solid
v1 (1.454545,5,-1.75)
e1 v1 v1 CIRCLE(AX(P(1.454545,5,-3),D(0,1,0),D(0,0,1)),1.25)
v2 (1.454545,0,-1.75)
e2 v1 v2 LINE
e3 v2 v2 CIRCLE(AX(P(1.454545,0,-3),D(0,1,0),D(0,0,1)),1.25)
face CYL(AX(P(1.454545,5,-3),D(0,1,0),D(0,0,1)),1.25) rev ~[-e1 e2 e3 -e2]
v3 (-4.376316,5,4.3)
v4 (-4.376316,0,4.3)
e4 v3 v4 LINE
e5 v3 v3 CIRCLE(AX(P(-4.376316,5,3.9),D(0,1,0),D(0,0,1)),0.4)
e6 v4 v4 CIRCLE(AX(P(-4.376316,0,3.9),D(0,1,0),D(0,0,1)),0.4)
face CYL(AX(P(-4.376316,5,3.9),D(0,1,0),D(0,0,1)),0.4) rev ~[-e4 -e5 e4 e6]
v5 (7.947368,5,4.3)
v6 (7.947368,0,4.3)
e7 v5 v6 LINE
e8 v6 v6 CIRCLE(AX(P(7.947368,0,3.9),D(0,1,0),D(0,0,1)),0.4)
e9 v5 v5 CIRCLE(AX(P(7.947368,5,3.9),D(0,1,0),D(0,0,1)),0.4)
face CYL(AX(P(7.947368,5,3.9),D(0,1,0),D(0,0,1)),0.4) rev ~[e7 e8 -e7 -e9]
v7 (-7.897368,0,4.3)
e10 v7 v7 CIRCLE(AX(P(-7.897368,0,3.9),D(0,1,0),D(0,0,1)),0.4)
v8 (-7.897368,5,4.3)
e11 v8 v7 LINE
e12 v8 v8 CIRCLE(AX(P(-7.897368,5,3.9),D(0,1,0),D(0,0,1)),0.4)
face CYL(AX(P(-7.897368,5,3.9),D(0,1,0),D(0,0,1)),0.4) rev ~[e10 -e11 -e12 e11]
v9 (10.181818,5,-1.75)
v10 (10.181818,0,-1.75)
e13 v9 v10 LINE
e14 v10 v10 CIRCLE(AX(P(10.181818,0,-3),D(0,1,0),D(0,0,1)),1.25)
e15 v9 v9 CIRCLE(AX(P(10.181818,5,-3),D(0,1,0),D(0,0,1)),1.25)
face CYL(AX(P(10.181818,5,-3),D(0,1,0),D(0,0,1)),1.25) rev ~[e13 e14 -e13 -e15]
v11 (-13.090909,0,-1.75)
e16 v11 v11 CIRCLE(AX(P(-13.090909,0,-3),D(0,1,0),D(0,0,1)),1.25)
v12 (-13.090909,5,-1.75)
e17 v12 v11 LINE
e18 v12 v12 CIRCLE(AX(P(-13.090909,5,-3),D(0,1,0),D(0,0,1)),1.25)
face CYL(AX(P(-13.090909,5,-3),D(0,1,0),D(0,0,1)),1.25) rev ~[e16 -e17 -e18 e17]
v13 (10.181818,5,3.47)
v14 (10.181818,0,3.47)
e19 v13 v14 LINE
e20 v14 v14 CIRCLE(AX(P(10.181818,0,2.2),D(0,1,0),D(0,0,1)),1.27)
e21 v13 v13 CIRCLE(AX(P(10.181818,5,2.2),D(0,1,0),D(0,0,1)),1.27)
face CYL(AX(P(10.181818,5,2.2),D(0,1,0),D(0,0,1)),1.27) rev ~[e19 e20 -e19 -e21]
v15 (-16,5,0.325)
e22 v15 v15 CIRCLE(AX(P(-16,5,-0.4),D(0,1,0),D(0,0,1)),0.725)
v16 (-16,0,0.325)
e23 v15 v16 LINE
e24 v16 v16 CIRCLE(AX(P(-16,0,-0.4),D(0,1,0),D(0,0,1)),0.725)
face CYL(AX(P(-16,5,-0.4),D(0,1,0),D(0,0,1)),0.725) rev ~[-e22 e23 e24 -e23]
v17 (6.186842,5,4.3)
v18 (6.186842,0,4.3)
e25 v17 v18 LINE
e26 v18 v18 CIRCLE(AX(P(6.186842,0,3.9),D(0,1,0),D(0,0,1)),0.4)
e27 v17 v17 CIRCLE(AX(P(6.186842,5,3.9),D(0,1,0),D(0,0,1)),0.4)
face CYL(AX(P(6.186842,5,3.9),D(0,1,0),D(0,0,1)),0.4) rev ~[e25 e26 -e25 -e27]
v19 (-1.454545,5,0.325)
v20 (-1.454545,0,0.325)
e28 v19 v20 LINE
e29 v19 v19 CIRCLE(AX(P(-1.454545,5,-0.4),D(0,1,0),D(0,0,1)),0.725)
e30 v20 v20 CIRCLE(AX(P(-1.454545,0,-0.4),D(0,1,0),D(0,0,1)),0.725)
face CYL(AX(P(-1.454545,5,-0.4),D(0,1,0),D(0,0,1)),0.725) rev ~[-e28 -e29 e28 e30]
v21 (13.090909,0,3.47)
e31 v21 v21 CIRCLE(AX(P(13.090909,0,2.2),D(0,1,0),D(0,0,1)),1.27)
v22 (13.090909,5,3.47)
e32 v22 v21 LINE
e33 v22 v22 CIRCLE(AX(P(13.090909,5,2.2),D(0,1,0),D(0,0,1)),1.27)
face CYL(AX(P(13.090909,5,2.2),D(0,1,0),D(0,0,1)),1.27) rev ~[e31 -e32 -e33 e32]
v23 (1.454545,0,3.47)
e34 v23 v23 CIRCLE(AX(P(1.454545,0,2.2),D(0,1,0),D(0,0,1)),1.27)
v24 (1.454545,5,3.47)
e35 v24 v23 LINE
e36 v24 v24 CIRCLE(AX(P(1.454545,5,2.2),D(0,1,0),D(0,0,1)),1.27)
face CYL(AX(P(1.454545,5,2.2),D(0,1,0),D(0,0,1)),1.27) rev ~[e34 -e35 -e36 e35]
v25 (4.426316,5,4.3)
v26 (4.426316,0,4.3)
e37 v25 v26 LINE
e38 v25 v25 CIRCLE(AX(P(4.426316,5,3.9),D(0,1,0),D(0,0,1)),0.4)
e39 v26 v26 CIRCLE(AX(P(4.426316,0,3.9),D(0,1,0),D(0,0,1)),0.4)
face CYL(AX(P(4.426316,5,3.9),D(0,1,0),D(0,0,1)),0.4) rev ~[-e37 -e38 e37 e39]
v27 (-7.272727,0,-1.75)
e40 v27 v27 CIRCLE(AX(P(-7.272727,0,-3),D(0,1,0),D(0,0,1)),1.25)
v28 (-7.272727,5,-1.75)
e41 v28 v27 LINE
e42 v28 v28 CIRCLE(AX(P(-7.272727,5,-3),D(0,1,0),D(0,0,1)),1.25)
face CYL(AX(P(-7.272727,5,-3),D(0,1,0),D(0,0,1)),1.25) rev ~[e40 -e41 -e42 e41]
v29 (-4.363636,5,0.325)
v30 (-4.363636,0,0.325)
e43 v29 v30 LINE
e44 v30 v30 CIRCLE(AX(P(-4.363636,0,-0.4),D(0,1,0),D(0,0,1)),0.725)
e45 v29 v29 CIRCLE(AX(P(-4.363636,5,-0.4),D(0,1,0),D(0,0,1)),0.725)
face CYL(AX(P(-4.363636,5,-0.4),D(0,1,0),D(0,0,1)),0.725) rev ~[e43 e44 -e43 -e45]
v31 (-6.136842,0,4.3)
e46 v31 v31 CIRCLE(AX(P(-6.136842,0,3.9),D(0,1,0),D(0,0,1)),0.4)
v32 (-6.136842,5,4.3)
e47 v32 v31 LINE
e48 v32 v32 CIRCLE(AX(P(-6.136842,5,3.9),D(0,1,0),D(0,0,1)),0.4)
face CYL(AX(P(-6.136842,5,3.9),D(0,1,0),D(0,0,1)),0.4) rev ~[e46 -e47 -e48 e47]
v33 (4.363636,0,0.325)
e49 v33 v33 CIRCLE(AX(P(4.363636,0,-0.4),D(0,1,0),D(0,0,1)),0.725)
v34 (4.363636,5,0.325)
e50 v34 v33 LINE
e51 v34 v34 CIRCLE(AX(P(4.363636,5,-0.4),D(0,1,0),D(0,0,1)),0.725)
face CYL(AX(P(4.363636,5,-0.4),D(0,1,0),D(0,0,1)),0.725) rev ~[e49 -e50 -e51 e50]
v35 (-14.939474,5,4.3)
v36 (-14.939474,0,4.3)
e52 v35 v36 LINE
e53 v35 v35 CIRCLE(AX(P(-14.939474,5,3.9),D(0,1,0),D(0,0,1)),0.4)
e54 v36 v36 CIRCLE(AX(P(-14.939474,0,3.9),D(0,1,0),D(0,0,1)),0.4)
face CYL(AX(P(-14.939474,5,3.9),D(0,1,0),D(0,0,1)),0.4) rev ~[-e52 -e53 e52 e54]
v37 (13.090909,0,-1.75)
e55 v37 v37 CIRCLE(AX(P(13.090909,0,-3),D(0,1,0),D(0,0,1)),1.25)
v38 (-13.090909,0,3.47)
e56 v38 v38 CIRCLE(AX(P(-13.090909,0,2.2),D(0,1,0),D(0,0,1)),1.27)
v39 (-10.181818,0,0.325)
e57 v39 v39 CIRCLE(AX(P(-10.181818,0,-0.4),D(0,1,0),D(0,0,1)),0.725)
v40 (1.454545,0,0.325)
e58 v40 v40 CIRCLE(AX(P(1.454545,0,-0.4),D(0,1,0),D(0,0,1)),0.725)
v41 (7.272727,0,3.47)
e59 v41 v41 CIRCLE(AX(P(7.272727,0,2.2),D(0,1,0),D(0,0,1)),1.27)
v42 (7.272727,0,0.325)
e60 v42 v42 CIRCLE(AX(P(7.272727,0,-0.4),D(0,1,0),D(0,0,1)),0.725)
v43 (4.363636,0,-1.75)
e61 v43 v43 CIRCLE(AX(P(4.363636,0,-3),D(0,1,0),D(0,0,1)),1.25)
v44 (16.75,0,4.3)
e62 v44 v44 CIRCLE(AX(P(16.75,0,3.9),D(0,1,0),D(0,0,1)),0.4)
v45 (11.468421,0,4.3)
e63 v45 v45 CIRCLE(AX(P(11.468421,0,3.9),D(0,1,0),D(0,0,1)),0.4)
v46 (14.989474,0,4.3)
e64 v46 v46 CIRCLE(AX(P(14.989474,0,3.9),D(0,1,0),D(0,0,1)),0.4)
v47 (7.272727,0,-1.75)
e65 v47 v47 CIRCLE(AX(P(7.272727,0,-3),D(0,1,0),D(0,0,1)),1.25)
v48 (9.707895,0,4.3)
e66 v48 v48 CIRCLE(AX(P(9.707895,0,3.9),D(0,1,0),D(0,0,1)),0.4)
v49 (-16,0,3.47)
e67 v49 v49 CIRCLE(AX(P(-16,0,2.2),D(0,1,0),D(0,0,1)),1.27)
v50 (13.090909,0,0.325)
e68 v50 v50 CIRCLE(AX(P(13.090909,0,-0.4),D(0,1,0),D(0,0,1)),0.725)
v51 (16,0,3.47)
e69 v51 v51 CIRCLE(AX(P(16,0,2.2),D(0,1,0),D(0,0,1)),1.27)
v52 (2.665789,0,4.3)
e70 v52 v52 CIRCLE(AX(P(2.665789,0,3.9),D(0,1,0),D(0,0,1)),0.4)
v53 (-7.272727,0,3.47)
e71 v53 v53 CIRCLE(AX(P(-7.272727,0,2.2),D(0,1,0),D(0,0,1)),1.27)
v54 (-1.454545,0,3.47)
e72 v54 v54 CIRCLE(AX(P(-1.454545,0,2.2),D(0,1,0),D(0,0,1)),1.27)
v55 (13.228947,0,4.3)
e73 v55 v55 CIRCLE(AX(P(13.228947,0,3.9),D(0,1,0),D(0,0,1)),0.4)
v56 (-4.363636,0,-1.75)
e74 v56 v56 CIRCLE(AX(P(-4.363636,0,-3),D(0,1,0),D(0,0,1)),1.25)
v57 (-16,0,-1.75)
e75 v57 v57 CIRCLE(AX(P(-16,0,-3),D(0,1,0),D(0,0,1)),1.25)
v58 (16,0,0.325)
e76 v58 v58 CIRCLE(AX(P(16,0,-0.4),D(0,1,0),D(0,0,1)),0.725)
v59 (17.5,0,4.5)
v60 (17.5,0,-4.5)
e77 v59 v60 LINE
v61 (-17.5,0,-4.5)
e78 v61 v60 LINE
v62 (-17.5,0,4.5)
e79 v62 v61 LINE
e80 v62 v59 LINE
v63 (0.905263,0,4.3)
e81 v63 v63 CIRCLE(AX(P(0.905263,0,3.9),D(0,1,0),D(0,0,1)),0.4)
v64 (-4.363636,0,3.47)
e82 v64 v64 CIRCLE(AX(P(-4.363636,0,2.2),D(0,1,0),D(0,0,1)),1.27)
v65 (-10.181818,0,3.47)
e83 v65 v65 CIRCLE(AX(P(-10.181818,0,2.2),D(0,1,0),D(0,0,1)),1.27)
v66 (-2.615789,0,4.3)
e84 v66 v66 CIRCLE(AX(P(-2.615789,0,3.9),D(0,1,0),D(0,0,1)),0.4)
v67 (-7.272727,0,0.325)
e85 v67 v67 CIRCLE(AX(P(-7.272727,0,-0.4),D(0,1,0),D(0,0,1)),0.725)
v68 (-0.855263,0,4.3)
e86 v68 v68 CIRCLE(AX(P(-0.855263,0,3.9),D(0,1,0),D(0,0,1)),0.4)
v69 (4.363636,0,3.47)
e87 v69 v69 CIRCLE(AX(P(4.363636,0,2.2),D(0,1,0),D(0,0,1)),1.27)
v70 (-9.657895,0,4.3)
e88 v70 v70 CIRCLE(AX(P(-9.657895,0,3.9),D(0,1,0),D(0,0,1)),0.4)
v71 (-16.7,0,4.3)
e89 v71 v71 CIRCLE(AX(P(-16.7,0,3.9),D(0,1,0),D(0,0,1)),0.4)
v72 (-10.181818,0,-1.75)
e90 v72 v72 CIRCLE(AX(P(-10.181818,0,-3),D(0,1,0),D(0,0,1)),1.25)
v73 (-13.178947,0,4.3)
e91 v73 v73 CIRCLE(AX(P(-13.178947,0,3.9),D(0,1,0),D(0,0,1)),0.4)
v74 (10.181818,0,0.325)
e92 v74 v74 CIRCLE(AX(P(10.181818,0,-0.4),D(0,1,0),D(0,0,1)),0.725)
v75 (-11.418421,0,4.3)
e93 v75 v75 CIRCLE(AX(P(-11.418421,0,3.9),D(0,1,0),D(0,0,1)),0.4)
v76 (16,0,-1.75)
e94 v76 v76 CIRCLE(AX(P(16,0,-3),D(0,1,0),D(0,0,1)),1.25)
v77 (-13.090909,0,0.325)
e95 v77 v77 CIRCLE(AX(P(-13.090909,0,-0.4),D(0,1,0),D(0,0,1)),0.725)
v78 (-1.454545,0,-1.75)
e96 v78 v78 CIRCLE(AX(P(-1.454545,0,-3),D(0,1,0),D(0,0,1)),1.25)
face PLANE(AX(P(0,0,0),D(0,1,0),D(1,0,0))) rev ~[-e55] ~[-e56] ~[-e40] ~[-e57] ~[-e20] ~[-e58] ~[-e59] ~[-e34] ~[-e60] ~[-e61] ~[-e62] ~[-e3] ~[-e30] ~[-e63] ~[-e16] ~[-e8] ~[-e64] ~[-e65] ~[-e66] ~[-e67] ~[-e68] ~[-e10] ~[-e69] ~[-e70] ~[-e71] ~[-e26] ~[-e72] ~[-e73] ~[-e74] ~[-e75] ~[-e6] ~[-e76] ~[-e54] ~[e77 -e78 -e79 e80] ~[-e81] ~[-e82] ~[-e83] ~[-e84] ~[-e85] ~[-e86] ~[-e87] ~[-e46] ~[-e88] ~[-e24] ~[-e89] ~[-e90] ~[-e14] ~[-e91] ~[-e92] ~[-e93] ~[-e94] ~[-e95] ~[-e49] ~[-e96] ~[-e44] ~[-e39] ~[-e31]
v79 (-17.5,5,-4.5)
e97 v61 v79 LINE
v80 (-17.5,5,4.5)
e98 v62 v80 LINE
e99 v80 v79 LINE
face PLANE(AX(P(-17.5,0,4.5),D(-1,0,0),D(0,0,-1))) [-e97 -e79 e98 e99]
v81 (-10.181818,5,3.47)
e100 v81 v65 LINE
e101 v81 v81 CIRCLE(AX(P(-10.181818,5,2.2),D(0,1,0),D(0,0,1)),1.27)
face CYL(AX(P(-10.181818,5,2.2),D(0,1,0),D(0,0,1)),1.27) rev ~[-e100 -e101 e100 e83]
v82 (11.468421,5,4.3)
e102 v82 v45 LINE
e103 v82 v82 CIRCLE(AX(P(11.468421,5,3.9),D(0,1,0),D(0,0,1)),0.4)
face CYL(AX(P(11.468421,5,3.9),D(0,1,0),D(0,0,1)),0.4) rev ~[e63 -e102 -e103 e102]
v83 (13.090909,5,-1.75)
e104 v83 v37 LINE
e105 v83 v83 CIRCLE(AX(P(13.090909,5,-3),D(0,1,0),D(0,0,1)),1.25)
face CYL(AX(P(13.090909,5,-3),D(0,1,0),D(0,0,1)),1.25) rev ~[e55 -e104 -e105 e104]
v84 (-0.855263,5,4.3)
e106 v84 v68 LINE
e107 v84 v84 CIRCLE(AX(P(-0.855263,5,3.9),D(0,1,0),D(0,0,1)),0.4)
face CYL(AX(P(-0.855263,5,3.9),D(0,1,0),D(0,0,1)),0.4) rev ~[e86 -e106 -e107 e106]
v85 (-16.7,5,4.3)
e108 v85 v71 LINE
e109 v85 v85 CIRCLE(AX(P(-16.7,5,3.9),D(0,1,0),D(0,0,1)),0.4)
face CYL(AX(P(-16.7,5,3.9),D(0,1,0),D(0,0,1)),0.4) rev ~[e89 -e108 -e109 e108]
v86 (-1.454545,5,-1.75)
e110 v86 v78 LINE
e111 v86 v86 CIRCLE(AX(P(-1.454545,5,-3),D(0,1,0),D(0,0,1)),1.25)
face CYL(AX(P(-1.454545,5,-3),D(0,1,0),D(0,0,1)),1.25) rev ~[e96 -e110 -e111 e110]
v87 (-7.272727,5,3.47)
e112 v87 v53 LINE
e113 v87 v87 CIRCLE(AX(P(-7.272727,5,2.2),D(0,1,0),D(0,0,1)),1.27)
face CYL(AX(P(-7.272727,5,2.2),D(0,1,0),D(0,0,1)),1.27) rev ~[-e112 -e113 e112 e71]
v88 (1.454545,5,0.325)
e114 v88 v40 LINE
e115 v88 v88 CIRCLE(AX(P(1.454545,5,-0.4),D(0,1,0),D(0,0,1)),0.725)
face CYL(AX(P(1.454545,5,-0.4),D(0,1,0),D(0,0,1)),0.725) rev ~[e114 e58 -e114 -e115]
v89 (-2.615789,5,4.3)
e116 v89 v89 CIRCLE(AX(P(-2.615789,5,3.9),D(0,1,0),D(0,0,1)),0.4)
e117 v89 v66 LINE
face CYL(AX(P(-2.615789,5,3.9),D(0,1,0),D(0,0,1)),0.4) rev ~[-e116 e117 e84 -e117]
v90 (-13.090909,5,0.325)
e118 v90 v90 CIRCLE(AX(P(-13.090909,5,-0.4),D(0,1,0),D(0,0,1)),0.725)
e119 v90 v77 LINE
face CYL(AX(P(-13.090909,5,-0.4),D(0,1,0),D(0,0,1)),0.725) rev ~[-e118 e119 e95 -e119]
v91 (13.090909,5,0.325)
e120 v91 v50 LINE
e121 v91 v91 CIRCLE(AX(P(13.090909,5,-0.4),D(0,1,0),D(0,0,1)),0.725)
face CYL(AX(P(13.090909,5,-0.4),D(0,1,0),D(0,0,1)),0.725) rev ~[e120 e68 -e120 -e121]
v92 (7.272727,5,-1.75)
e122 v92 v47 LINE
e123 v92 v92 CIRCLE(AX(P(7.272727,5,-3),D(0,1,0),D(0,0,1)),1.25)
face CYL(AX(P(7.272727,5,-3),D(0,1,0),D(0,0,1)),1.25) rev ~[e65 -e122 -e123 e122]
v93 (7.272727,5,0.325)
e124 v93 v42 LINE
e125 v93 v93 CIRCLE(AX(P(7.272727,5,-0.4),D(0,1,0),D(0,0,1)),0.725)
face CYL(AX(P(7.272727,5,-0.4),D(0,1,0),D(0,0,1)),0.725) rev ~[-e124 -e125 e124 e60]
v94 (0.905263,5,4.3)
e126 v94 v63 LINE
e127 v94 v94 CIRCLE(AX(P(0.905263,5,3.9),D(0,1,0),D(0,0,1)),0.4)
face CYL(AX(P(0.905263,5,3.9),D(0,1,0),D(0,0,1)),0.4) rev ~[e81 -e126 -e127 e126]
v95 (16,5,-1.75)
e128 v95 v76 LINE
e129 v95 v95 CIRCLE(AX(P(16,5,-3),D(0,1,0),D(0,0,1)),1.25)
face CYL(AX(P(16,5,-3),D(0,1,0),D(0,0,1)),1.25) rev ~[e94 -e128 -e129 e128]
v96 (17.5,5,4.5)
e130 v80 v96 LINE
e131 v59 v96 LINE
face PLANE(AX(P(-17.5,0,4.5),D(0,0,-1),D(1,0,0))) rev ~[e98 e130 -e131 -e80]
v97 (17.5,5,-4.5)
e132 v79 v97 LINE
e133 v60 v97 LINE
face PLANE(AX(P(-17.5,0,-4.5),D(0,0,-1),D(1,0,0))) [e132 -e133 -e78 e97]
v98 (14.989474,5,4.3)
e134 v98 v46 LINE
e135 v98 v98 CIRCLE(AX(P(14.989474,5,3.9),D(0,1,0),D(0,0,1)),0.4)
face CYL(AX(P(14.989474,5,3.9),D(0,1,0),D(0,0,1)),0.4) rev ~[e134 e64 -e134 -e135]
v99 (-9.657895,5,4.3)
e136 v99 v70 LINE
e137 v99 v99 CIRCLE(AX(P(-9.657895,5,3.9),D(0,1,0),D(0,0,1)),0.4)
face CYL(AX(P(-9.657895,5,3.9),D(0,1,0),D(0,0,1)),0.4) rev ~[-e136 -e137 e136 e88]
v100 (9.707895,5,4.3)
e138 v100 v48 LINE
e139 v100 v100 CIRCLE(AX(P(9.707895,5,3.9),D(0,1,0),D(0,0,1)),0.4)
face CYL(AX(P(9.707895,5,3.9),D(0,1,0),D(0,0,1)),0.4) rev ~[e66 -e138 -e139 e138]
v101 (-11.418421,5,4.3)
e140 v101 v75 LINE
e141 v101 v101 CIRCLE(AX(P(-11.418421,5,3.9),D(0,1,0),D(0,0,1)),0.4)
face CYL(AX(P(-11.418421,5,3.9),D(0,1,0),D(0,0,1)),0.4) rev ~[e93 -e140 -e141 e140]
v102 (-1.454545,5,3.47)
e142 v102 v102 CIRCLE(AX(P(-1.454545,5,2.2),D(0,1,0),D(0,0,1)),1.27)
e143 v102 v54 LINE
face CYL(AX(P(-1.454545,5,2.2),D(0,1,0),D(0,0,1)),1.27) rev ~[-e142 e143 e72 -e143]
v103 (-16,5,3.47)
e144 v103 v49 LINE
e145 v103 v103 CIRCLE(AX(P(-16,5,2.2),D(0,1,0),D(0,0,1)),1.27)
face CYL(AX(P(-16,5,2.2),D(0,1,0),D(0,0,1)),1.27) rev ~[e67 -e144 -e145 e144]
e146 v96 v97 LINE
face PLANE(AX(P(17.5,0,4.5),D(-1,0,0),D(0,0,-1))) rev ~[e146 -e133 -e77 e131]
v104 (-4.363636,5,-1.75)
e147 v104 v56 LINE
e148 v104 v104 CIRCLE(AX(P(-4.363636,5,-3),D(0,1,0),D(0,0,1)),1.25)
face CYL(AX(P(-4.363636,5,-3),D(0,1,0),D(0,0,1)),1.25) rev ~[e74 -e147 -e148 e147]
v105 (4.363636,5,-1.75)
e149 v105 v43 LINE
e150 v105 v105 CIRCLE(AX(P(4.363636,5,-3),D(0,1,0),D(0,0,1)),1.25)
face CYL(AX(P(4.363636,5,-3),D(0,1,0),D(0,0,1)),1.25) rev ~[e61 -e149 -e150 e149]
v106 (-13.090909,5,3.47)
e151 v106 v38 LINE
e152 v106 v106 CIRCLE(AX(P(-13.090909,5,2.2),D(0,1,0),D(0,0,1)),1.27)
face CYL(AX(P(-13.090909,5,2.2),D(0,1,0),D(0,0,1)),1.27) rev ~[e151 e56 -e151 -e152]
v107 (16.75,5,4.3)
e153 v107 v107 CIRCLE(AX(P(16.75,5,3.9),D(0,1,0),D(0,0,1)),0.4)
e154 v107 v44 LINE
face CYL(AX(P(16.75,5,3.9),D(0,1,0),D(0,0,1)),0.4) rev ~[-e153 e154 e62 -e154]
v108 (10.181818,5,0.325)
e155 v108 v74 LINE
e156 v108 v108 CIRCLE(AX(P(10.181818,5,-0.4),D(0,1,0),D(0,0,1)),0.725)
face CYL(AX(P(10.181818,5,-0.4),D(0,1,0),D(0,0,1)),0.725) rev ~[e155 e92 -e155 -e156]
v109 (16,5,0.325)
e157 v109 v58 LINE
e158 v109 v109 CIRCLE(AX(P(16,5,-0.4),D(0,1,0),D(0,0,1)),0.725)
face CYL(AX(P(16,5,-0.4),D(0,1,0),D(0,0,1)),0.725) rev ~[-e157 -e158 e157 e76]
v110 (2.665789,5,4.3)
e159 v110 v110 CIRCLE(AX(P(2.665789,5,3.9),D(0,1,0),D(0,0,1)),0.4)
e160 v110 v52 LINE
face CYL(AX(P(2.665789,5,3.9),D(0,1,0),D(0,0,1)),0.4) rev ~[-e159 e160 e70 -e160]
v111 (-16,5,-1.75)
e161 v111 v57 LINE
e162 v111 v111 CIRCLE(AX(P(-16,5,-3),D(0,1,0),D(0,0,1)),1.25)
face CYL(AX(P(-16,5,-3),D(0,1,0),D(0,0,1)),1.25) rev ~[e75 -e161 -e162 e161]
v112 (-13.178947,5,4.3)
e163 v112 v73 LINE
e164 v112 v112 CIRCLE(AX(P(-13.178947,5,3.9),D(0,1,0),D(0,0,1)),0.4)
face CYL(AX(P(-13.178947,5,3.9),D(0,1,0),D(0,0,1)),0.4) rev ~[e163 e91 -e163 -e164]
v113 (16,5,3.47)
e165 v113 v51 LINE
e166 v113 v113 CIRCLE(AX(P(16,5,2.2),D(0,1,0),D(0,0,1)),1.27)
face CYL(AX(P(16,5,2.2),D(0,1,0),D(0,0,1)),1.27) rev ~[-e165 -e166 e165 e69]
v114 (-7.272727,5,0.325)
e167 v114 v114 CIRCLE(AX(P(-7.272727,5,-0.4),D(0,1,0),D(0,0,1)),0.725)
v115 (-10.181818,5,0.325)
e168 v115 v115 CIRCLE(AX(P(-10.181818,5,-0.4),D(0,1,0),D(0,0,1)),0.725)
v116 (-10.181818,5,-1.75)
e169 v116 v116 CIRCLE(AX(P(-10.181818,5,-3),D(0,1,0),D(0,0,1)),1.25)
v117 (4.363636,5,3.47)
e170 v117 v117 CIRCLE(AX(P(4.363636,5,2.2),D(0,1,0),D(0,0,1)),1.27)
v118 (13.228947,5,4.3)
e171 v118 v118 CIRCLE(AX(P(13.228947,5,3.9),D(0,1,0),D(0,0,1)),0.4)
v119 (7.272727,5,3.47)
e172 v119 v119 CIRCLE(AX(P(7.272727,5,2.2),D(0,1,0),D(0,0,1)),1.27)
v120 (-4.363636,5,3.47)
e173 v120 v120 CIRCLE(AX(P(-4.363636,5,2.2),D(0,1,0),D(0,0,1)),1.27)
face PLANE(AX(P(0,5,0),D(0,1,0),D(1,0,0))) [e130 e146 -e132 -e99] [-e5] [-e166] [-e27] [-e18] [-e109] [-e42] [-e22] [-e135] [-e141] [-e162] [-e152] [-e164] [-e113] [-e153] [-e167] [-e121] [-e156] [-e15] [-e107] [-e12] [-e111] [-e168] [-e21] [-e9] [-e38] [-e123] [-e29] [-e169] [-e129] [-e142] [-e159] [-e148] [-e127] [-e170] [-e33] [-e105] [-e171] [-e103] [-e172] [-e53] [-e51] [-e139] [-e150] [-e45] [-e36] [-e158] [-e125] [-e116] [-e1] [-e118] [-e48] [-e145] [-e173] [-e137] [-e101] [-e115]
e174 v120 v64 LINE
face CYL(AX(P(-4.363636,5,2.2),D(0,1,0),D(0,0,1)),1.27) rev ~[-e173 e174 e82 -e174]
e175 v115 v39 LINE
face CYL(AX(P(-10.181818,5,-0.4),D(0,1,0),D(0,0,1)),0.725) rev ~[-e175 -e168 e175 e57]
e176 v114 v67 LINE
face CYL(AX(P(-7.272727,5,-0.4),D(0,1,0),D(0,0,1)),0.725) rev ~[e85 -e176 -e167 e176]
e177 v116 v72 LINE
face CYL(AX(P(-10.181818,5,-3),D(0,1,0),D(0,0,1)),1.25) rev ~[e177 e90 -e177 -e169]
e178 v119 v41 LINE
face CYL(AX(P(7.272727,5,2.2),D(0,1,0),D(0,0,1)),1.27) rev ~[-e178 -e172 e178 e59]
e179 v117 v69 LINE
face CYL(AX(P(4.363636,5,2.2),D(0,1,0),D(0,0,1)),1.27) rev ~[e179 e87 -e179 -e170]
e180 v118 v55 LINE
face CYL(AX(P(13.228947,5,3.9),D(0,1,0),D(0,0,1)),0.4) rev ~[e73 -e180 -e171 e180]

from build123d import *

# Parameters (mm, degrees)
SKETCH_1_W          = 35
SKETCH_1_H          = 9
EXTRUDE_1_DEPTH     = 5
SKETCH_2_R          = 1.25
SKETCH_2_R_2        = 0.725
SKETCH_2_R_3        = 1.27
SKETCH_2_R_4        = 0.4
CUT_EXTRUDE_1_DEPTH = 5


with BuildPart() as part:
    # 草图1 → 凸台-拉伸1 (new body)
    with BuildSketch(Plane(origin=(0, 0, 0), x_dir=(1, 0, 0), z_dir=(0, 1, 0))):
        Rectangle(SKETCH_1_W, SKETCH_1_H)
    extrude(amount=EXTRUDE_1_DEPTH)

    # 草图2 → 切除-拉伸1 (cut)
    with BuildSketch(Plane(origin=(0, 5, 0), x_dir=(1, 0, 0), z_dir=(0, 1, 0))):
        with Locations(Location((-16, 3, 0), (0, 0, 270))):
            Circle(SKETCH_2_R)
        with Locations(Location((-13.090909091, 3, 0), (0, 0, 270))):
            Circle(SKETCH_2_R)
        with Locations(Location((-10.181818182, 3, 0), (0, 0, 270))):
            Circle(SKETCH_2_R)
        with Locations(Location((-7.272727273, 3, 0), (0, 0, 270))):
            Circle(SKETCH_2_R)
        with Locations(Location((-4.363636364, 3, 0), (0, 0, 270))):
            Circle(SKETCH_2_R)
        with Locations(Location((-1.454545455, 3, 0), (0, 0, 270))):
            Circle(SKETCH_2_R)
        with Locations(Location((1.454545455, 3, 0), (0, 0, 270))):
            Circle(SKETCH_2_R)
        with Locations(Location((4.363636364, 3, 0), (0, 0, 270))):
            Circle(SKETCH_2_R)
        with Locations(Location((7.272727273, 3, 0), (0, 0, 270))):
            Circle(SKETCH_2_R)
        with Locations(Location((10.181818182, 3, 0), (0, 0, 270))):
            Circle(SKETCH_2_R)
        with Locations(Location((13.090909091, 3, 0), (0, 0, 270))):
            Circle(SKETCH_2_R)
        with Locations(Location((16, 3, 0), (0, 0, 270))):
            Circle(SKETCH_2_R)
        with Locations(Location((-16, 0.4, 0), (0, 0, 270))):
            Circle(SKETCH_2_R_2)
        with Locations(Location((-13.090909091, 0.4, 0), (0, 0, 270))):
            Circle(SKETCH_2_R_2)
        with Locations(Location((-10.181818182, 0.4, 0), (0, 0, 270))):
            Circle(SKETCH_2_R_2)
        with Locations(Location((-7.272727273, 0.4, 0), (0, 0, 270))):
            Circle(SKETCH_2_R_2)
        with Locations(Location((-4.363636364, 0.4, 0), (0, 0, 270))):
            Circle(SKETCH_2_R_2)
        with Locations(Location((-1.454545455, 0.4, 0), (0, 0, 270))):
            Circle(SKETCH_2_R_2)
        with Locations(Location((1.454545455, 0.4, 0), (0, 0, 270))):
            Circle(SKETCH_2_R_2)
        with Locations(Location((4.363636364, 0.4, 0), (0, 0, 270))):
            Circle(SKETCH_2_R_2)
        with Locations(Location((7.272727273, 0.4, 0), (0, 0, 270))):
            Circle(SKETCH_2_R_2)
        with Locations(Location((10.181818182, 0.4, 0), (0, 0, 270))):
            Circle(SKETCH_2_R_2)
        with Locations(Location((13.090909091, 0.4, 0), (0, 0, 270))):
            Circle(SKETCH_2_R_2)
        with Locations(Location((16, 0.4, 0), (0, 0, 270))):
            Circle(SKETCH_2_R_2)
        with Locations(Location((-16, -2.2, 0), (0, 0, 270))):
            Circle(SKETCH_2_R_3)
        with Locations(Location((-13.090909091, -2.2, 0), (0, 0, 270))):
            Circle(SKETCH_2_R_3)
        with Locations(Location((-10.181818182, -2.2, 0), (0, 0, 270))):
            Circle(SKETCH_2_R_3)
        with Locations(Location((-7.272727273, -2.2, 0), (0, 0, 270))):
            Circle(SKETCH_2_R_3)
        with Locations(Location((-4.363636364, -2.2, 0), (0, 0, 270))):
            Circle(SKETCH_2_R_3)
        with Locations(Location((-1.454545455, -2.2, 0), (0, 0, 270))):
            Circle(SKETCH_2_R_3)
        with Locations(Location((1.454545455, -2.2, 0), (0, 0, 270))):
            Circle(SKETCH_2_R_3)
        with Locations(Location((4.363636364, -2.2, 0), (0, 0, 270))):
            Circle(SKETCH_2_R_3)
        with Locations(Location((7.272727273, -2.2, 0), (0, 0, 270))):
            Circle(SKETCH_2_R_3)
        with Locations(Location((10.181818182, -2.2, 0), (0, 0, 270))):
            Circle(SKETCH_2_R_3)
        with Locations(Location((13.090909091, -2.2, 0), (0, 0, 270))):
            Circle(SKETCH_2_R_3)
        with Locations(Location((16, -2.2, 0), (0, 0, 270))):
            Circle(SKETCH_2_R_3)
        with Locations(Location((-16.7, -3.9, 0), (0, 0, 270))):
            Circle(SKETCH_2_R_4)
        with Locations(Location((-14.939473684, -3.9, 0), (0, 0, 270))):
            Circle(SKETCH_2_R_4)
        with Locations(Location((-13.178947368, -3.9, 0), (0, 0, 270))):
            Circle(SKETCH_2_R_4)
        with Locations(Location((-11.418421053, -3.9, 0), (0, 0, 270))):
            Circle(SKETCH_2_R_4)
        with Locations(Location((-9.657894737, -3.9, 0), (0, 0, 270))):
            Circle(SKETCH_2_R_4)
        with Locations(Location((-7.897368421, -3.9, 0), (0, 0, 270))):
            Circle(SKETCH_2_R_4)
        with Locations(Location((-6.136842105, -3.9, 0), (0, 0, 270))):
            Circle(SKETCH_2_R_4)
        with Locations(Location((-4.376315789, -3.9, 0), (0, 0, 270))):
            Circle(SKETCH_2_R_4)
        with Locations(Location((-2.615789474, -3.9, 0), (0, 0, 270))):
            Circle(SKETCH_2_R_4)
        with Locations(Location((-0.855263158, -3.9, 0), (0, 0, 270))):
            Circle(SKETCH_2_R_4)
        with Locations(Location((0.905263158, -3.9, 0), (0, 0, 270))):
            Circle(SKETCH_2_R_4)
        with Locations(Location((2.665789474, -3.9, 0), (0, 0, 270))):
            Circle(SKETCH_2_R_4)
        with Locations(Location((4.426315789, -3.9, 0), (0, 0, 270))):
            Circle(SKETCH_2_R_4)
        with Locations(Location((6.186842105, -3.9, 0), (0, 0, 270))):
            Circle(SKETCH_2_R_4)
        with Locations(Location((7.947368421, -3.9, 0), (0, 0, 270))):
            Circle(SKETCH_2_R_4)
        with Locations(Location((9.707894737, -3.9, 0), (0, 0, 270))):
            Circle(SKETCH_2_R_4)
        with Locations(Location((11.468421053, -3.9, 0), (0, 0, 270))):
            Circle(SKETCH_2_R_4)
        with Locations(Location((13.228947368, -3.9, 0), (0, 0, 270))):
            Circle(SKETCH_2_R_4)
        with Locations(Location((14.989473684, -3.9, 0), (0, 0, 270))):
            Circle(SKETCH_2_R_4)
        with Locations(Location((16.75, -3.9, 0), (0, 0, 270))):
            Circle(SKETCH_2_R_4)
    extrude(amount=-CUT_EXTRUDE_1_DEPTH, mode=Mode.SUBTRACT)


solid = part.part
